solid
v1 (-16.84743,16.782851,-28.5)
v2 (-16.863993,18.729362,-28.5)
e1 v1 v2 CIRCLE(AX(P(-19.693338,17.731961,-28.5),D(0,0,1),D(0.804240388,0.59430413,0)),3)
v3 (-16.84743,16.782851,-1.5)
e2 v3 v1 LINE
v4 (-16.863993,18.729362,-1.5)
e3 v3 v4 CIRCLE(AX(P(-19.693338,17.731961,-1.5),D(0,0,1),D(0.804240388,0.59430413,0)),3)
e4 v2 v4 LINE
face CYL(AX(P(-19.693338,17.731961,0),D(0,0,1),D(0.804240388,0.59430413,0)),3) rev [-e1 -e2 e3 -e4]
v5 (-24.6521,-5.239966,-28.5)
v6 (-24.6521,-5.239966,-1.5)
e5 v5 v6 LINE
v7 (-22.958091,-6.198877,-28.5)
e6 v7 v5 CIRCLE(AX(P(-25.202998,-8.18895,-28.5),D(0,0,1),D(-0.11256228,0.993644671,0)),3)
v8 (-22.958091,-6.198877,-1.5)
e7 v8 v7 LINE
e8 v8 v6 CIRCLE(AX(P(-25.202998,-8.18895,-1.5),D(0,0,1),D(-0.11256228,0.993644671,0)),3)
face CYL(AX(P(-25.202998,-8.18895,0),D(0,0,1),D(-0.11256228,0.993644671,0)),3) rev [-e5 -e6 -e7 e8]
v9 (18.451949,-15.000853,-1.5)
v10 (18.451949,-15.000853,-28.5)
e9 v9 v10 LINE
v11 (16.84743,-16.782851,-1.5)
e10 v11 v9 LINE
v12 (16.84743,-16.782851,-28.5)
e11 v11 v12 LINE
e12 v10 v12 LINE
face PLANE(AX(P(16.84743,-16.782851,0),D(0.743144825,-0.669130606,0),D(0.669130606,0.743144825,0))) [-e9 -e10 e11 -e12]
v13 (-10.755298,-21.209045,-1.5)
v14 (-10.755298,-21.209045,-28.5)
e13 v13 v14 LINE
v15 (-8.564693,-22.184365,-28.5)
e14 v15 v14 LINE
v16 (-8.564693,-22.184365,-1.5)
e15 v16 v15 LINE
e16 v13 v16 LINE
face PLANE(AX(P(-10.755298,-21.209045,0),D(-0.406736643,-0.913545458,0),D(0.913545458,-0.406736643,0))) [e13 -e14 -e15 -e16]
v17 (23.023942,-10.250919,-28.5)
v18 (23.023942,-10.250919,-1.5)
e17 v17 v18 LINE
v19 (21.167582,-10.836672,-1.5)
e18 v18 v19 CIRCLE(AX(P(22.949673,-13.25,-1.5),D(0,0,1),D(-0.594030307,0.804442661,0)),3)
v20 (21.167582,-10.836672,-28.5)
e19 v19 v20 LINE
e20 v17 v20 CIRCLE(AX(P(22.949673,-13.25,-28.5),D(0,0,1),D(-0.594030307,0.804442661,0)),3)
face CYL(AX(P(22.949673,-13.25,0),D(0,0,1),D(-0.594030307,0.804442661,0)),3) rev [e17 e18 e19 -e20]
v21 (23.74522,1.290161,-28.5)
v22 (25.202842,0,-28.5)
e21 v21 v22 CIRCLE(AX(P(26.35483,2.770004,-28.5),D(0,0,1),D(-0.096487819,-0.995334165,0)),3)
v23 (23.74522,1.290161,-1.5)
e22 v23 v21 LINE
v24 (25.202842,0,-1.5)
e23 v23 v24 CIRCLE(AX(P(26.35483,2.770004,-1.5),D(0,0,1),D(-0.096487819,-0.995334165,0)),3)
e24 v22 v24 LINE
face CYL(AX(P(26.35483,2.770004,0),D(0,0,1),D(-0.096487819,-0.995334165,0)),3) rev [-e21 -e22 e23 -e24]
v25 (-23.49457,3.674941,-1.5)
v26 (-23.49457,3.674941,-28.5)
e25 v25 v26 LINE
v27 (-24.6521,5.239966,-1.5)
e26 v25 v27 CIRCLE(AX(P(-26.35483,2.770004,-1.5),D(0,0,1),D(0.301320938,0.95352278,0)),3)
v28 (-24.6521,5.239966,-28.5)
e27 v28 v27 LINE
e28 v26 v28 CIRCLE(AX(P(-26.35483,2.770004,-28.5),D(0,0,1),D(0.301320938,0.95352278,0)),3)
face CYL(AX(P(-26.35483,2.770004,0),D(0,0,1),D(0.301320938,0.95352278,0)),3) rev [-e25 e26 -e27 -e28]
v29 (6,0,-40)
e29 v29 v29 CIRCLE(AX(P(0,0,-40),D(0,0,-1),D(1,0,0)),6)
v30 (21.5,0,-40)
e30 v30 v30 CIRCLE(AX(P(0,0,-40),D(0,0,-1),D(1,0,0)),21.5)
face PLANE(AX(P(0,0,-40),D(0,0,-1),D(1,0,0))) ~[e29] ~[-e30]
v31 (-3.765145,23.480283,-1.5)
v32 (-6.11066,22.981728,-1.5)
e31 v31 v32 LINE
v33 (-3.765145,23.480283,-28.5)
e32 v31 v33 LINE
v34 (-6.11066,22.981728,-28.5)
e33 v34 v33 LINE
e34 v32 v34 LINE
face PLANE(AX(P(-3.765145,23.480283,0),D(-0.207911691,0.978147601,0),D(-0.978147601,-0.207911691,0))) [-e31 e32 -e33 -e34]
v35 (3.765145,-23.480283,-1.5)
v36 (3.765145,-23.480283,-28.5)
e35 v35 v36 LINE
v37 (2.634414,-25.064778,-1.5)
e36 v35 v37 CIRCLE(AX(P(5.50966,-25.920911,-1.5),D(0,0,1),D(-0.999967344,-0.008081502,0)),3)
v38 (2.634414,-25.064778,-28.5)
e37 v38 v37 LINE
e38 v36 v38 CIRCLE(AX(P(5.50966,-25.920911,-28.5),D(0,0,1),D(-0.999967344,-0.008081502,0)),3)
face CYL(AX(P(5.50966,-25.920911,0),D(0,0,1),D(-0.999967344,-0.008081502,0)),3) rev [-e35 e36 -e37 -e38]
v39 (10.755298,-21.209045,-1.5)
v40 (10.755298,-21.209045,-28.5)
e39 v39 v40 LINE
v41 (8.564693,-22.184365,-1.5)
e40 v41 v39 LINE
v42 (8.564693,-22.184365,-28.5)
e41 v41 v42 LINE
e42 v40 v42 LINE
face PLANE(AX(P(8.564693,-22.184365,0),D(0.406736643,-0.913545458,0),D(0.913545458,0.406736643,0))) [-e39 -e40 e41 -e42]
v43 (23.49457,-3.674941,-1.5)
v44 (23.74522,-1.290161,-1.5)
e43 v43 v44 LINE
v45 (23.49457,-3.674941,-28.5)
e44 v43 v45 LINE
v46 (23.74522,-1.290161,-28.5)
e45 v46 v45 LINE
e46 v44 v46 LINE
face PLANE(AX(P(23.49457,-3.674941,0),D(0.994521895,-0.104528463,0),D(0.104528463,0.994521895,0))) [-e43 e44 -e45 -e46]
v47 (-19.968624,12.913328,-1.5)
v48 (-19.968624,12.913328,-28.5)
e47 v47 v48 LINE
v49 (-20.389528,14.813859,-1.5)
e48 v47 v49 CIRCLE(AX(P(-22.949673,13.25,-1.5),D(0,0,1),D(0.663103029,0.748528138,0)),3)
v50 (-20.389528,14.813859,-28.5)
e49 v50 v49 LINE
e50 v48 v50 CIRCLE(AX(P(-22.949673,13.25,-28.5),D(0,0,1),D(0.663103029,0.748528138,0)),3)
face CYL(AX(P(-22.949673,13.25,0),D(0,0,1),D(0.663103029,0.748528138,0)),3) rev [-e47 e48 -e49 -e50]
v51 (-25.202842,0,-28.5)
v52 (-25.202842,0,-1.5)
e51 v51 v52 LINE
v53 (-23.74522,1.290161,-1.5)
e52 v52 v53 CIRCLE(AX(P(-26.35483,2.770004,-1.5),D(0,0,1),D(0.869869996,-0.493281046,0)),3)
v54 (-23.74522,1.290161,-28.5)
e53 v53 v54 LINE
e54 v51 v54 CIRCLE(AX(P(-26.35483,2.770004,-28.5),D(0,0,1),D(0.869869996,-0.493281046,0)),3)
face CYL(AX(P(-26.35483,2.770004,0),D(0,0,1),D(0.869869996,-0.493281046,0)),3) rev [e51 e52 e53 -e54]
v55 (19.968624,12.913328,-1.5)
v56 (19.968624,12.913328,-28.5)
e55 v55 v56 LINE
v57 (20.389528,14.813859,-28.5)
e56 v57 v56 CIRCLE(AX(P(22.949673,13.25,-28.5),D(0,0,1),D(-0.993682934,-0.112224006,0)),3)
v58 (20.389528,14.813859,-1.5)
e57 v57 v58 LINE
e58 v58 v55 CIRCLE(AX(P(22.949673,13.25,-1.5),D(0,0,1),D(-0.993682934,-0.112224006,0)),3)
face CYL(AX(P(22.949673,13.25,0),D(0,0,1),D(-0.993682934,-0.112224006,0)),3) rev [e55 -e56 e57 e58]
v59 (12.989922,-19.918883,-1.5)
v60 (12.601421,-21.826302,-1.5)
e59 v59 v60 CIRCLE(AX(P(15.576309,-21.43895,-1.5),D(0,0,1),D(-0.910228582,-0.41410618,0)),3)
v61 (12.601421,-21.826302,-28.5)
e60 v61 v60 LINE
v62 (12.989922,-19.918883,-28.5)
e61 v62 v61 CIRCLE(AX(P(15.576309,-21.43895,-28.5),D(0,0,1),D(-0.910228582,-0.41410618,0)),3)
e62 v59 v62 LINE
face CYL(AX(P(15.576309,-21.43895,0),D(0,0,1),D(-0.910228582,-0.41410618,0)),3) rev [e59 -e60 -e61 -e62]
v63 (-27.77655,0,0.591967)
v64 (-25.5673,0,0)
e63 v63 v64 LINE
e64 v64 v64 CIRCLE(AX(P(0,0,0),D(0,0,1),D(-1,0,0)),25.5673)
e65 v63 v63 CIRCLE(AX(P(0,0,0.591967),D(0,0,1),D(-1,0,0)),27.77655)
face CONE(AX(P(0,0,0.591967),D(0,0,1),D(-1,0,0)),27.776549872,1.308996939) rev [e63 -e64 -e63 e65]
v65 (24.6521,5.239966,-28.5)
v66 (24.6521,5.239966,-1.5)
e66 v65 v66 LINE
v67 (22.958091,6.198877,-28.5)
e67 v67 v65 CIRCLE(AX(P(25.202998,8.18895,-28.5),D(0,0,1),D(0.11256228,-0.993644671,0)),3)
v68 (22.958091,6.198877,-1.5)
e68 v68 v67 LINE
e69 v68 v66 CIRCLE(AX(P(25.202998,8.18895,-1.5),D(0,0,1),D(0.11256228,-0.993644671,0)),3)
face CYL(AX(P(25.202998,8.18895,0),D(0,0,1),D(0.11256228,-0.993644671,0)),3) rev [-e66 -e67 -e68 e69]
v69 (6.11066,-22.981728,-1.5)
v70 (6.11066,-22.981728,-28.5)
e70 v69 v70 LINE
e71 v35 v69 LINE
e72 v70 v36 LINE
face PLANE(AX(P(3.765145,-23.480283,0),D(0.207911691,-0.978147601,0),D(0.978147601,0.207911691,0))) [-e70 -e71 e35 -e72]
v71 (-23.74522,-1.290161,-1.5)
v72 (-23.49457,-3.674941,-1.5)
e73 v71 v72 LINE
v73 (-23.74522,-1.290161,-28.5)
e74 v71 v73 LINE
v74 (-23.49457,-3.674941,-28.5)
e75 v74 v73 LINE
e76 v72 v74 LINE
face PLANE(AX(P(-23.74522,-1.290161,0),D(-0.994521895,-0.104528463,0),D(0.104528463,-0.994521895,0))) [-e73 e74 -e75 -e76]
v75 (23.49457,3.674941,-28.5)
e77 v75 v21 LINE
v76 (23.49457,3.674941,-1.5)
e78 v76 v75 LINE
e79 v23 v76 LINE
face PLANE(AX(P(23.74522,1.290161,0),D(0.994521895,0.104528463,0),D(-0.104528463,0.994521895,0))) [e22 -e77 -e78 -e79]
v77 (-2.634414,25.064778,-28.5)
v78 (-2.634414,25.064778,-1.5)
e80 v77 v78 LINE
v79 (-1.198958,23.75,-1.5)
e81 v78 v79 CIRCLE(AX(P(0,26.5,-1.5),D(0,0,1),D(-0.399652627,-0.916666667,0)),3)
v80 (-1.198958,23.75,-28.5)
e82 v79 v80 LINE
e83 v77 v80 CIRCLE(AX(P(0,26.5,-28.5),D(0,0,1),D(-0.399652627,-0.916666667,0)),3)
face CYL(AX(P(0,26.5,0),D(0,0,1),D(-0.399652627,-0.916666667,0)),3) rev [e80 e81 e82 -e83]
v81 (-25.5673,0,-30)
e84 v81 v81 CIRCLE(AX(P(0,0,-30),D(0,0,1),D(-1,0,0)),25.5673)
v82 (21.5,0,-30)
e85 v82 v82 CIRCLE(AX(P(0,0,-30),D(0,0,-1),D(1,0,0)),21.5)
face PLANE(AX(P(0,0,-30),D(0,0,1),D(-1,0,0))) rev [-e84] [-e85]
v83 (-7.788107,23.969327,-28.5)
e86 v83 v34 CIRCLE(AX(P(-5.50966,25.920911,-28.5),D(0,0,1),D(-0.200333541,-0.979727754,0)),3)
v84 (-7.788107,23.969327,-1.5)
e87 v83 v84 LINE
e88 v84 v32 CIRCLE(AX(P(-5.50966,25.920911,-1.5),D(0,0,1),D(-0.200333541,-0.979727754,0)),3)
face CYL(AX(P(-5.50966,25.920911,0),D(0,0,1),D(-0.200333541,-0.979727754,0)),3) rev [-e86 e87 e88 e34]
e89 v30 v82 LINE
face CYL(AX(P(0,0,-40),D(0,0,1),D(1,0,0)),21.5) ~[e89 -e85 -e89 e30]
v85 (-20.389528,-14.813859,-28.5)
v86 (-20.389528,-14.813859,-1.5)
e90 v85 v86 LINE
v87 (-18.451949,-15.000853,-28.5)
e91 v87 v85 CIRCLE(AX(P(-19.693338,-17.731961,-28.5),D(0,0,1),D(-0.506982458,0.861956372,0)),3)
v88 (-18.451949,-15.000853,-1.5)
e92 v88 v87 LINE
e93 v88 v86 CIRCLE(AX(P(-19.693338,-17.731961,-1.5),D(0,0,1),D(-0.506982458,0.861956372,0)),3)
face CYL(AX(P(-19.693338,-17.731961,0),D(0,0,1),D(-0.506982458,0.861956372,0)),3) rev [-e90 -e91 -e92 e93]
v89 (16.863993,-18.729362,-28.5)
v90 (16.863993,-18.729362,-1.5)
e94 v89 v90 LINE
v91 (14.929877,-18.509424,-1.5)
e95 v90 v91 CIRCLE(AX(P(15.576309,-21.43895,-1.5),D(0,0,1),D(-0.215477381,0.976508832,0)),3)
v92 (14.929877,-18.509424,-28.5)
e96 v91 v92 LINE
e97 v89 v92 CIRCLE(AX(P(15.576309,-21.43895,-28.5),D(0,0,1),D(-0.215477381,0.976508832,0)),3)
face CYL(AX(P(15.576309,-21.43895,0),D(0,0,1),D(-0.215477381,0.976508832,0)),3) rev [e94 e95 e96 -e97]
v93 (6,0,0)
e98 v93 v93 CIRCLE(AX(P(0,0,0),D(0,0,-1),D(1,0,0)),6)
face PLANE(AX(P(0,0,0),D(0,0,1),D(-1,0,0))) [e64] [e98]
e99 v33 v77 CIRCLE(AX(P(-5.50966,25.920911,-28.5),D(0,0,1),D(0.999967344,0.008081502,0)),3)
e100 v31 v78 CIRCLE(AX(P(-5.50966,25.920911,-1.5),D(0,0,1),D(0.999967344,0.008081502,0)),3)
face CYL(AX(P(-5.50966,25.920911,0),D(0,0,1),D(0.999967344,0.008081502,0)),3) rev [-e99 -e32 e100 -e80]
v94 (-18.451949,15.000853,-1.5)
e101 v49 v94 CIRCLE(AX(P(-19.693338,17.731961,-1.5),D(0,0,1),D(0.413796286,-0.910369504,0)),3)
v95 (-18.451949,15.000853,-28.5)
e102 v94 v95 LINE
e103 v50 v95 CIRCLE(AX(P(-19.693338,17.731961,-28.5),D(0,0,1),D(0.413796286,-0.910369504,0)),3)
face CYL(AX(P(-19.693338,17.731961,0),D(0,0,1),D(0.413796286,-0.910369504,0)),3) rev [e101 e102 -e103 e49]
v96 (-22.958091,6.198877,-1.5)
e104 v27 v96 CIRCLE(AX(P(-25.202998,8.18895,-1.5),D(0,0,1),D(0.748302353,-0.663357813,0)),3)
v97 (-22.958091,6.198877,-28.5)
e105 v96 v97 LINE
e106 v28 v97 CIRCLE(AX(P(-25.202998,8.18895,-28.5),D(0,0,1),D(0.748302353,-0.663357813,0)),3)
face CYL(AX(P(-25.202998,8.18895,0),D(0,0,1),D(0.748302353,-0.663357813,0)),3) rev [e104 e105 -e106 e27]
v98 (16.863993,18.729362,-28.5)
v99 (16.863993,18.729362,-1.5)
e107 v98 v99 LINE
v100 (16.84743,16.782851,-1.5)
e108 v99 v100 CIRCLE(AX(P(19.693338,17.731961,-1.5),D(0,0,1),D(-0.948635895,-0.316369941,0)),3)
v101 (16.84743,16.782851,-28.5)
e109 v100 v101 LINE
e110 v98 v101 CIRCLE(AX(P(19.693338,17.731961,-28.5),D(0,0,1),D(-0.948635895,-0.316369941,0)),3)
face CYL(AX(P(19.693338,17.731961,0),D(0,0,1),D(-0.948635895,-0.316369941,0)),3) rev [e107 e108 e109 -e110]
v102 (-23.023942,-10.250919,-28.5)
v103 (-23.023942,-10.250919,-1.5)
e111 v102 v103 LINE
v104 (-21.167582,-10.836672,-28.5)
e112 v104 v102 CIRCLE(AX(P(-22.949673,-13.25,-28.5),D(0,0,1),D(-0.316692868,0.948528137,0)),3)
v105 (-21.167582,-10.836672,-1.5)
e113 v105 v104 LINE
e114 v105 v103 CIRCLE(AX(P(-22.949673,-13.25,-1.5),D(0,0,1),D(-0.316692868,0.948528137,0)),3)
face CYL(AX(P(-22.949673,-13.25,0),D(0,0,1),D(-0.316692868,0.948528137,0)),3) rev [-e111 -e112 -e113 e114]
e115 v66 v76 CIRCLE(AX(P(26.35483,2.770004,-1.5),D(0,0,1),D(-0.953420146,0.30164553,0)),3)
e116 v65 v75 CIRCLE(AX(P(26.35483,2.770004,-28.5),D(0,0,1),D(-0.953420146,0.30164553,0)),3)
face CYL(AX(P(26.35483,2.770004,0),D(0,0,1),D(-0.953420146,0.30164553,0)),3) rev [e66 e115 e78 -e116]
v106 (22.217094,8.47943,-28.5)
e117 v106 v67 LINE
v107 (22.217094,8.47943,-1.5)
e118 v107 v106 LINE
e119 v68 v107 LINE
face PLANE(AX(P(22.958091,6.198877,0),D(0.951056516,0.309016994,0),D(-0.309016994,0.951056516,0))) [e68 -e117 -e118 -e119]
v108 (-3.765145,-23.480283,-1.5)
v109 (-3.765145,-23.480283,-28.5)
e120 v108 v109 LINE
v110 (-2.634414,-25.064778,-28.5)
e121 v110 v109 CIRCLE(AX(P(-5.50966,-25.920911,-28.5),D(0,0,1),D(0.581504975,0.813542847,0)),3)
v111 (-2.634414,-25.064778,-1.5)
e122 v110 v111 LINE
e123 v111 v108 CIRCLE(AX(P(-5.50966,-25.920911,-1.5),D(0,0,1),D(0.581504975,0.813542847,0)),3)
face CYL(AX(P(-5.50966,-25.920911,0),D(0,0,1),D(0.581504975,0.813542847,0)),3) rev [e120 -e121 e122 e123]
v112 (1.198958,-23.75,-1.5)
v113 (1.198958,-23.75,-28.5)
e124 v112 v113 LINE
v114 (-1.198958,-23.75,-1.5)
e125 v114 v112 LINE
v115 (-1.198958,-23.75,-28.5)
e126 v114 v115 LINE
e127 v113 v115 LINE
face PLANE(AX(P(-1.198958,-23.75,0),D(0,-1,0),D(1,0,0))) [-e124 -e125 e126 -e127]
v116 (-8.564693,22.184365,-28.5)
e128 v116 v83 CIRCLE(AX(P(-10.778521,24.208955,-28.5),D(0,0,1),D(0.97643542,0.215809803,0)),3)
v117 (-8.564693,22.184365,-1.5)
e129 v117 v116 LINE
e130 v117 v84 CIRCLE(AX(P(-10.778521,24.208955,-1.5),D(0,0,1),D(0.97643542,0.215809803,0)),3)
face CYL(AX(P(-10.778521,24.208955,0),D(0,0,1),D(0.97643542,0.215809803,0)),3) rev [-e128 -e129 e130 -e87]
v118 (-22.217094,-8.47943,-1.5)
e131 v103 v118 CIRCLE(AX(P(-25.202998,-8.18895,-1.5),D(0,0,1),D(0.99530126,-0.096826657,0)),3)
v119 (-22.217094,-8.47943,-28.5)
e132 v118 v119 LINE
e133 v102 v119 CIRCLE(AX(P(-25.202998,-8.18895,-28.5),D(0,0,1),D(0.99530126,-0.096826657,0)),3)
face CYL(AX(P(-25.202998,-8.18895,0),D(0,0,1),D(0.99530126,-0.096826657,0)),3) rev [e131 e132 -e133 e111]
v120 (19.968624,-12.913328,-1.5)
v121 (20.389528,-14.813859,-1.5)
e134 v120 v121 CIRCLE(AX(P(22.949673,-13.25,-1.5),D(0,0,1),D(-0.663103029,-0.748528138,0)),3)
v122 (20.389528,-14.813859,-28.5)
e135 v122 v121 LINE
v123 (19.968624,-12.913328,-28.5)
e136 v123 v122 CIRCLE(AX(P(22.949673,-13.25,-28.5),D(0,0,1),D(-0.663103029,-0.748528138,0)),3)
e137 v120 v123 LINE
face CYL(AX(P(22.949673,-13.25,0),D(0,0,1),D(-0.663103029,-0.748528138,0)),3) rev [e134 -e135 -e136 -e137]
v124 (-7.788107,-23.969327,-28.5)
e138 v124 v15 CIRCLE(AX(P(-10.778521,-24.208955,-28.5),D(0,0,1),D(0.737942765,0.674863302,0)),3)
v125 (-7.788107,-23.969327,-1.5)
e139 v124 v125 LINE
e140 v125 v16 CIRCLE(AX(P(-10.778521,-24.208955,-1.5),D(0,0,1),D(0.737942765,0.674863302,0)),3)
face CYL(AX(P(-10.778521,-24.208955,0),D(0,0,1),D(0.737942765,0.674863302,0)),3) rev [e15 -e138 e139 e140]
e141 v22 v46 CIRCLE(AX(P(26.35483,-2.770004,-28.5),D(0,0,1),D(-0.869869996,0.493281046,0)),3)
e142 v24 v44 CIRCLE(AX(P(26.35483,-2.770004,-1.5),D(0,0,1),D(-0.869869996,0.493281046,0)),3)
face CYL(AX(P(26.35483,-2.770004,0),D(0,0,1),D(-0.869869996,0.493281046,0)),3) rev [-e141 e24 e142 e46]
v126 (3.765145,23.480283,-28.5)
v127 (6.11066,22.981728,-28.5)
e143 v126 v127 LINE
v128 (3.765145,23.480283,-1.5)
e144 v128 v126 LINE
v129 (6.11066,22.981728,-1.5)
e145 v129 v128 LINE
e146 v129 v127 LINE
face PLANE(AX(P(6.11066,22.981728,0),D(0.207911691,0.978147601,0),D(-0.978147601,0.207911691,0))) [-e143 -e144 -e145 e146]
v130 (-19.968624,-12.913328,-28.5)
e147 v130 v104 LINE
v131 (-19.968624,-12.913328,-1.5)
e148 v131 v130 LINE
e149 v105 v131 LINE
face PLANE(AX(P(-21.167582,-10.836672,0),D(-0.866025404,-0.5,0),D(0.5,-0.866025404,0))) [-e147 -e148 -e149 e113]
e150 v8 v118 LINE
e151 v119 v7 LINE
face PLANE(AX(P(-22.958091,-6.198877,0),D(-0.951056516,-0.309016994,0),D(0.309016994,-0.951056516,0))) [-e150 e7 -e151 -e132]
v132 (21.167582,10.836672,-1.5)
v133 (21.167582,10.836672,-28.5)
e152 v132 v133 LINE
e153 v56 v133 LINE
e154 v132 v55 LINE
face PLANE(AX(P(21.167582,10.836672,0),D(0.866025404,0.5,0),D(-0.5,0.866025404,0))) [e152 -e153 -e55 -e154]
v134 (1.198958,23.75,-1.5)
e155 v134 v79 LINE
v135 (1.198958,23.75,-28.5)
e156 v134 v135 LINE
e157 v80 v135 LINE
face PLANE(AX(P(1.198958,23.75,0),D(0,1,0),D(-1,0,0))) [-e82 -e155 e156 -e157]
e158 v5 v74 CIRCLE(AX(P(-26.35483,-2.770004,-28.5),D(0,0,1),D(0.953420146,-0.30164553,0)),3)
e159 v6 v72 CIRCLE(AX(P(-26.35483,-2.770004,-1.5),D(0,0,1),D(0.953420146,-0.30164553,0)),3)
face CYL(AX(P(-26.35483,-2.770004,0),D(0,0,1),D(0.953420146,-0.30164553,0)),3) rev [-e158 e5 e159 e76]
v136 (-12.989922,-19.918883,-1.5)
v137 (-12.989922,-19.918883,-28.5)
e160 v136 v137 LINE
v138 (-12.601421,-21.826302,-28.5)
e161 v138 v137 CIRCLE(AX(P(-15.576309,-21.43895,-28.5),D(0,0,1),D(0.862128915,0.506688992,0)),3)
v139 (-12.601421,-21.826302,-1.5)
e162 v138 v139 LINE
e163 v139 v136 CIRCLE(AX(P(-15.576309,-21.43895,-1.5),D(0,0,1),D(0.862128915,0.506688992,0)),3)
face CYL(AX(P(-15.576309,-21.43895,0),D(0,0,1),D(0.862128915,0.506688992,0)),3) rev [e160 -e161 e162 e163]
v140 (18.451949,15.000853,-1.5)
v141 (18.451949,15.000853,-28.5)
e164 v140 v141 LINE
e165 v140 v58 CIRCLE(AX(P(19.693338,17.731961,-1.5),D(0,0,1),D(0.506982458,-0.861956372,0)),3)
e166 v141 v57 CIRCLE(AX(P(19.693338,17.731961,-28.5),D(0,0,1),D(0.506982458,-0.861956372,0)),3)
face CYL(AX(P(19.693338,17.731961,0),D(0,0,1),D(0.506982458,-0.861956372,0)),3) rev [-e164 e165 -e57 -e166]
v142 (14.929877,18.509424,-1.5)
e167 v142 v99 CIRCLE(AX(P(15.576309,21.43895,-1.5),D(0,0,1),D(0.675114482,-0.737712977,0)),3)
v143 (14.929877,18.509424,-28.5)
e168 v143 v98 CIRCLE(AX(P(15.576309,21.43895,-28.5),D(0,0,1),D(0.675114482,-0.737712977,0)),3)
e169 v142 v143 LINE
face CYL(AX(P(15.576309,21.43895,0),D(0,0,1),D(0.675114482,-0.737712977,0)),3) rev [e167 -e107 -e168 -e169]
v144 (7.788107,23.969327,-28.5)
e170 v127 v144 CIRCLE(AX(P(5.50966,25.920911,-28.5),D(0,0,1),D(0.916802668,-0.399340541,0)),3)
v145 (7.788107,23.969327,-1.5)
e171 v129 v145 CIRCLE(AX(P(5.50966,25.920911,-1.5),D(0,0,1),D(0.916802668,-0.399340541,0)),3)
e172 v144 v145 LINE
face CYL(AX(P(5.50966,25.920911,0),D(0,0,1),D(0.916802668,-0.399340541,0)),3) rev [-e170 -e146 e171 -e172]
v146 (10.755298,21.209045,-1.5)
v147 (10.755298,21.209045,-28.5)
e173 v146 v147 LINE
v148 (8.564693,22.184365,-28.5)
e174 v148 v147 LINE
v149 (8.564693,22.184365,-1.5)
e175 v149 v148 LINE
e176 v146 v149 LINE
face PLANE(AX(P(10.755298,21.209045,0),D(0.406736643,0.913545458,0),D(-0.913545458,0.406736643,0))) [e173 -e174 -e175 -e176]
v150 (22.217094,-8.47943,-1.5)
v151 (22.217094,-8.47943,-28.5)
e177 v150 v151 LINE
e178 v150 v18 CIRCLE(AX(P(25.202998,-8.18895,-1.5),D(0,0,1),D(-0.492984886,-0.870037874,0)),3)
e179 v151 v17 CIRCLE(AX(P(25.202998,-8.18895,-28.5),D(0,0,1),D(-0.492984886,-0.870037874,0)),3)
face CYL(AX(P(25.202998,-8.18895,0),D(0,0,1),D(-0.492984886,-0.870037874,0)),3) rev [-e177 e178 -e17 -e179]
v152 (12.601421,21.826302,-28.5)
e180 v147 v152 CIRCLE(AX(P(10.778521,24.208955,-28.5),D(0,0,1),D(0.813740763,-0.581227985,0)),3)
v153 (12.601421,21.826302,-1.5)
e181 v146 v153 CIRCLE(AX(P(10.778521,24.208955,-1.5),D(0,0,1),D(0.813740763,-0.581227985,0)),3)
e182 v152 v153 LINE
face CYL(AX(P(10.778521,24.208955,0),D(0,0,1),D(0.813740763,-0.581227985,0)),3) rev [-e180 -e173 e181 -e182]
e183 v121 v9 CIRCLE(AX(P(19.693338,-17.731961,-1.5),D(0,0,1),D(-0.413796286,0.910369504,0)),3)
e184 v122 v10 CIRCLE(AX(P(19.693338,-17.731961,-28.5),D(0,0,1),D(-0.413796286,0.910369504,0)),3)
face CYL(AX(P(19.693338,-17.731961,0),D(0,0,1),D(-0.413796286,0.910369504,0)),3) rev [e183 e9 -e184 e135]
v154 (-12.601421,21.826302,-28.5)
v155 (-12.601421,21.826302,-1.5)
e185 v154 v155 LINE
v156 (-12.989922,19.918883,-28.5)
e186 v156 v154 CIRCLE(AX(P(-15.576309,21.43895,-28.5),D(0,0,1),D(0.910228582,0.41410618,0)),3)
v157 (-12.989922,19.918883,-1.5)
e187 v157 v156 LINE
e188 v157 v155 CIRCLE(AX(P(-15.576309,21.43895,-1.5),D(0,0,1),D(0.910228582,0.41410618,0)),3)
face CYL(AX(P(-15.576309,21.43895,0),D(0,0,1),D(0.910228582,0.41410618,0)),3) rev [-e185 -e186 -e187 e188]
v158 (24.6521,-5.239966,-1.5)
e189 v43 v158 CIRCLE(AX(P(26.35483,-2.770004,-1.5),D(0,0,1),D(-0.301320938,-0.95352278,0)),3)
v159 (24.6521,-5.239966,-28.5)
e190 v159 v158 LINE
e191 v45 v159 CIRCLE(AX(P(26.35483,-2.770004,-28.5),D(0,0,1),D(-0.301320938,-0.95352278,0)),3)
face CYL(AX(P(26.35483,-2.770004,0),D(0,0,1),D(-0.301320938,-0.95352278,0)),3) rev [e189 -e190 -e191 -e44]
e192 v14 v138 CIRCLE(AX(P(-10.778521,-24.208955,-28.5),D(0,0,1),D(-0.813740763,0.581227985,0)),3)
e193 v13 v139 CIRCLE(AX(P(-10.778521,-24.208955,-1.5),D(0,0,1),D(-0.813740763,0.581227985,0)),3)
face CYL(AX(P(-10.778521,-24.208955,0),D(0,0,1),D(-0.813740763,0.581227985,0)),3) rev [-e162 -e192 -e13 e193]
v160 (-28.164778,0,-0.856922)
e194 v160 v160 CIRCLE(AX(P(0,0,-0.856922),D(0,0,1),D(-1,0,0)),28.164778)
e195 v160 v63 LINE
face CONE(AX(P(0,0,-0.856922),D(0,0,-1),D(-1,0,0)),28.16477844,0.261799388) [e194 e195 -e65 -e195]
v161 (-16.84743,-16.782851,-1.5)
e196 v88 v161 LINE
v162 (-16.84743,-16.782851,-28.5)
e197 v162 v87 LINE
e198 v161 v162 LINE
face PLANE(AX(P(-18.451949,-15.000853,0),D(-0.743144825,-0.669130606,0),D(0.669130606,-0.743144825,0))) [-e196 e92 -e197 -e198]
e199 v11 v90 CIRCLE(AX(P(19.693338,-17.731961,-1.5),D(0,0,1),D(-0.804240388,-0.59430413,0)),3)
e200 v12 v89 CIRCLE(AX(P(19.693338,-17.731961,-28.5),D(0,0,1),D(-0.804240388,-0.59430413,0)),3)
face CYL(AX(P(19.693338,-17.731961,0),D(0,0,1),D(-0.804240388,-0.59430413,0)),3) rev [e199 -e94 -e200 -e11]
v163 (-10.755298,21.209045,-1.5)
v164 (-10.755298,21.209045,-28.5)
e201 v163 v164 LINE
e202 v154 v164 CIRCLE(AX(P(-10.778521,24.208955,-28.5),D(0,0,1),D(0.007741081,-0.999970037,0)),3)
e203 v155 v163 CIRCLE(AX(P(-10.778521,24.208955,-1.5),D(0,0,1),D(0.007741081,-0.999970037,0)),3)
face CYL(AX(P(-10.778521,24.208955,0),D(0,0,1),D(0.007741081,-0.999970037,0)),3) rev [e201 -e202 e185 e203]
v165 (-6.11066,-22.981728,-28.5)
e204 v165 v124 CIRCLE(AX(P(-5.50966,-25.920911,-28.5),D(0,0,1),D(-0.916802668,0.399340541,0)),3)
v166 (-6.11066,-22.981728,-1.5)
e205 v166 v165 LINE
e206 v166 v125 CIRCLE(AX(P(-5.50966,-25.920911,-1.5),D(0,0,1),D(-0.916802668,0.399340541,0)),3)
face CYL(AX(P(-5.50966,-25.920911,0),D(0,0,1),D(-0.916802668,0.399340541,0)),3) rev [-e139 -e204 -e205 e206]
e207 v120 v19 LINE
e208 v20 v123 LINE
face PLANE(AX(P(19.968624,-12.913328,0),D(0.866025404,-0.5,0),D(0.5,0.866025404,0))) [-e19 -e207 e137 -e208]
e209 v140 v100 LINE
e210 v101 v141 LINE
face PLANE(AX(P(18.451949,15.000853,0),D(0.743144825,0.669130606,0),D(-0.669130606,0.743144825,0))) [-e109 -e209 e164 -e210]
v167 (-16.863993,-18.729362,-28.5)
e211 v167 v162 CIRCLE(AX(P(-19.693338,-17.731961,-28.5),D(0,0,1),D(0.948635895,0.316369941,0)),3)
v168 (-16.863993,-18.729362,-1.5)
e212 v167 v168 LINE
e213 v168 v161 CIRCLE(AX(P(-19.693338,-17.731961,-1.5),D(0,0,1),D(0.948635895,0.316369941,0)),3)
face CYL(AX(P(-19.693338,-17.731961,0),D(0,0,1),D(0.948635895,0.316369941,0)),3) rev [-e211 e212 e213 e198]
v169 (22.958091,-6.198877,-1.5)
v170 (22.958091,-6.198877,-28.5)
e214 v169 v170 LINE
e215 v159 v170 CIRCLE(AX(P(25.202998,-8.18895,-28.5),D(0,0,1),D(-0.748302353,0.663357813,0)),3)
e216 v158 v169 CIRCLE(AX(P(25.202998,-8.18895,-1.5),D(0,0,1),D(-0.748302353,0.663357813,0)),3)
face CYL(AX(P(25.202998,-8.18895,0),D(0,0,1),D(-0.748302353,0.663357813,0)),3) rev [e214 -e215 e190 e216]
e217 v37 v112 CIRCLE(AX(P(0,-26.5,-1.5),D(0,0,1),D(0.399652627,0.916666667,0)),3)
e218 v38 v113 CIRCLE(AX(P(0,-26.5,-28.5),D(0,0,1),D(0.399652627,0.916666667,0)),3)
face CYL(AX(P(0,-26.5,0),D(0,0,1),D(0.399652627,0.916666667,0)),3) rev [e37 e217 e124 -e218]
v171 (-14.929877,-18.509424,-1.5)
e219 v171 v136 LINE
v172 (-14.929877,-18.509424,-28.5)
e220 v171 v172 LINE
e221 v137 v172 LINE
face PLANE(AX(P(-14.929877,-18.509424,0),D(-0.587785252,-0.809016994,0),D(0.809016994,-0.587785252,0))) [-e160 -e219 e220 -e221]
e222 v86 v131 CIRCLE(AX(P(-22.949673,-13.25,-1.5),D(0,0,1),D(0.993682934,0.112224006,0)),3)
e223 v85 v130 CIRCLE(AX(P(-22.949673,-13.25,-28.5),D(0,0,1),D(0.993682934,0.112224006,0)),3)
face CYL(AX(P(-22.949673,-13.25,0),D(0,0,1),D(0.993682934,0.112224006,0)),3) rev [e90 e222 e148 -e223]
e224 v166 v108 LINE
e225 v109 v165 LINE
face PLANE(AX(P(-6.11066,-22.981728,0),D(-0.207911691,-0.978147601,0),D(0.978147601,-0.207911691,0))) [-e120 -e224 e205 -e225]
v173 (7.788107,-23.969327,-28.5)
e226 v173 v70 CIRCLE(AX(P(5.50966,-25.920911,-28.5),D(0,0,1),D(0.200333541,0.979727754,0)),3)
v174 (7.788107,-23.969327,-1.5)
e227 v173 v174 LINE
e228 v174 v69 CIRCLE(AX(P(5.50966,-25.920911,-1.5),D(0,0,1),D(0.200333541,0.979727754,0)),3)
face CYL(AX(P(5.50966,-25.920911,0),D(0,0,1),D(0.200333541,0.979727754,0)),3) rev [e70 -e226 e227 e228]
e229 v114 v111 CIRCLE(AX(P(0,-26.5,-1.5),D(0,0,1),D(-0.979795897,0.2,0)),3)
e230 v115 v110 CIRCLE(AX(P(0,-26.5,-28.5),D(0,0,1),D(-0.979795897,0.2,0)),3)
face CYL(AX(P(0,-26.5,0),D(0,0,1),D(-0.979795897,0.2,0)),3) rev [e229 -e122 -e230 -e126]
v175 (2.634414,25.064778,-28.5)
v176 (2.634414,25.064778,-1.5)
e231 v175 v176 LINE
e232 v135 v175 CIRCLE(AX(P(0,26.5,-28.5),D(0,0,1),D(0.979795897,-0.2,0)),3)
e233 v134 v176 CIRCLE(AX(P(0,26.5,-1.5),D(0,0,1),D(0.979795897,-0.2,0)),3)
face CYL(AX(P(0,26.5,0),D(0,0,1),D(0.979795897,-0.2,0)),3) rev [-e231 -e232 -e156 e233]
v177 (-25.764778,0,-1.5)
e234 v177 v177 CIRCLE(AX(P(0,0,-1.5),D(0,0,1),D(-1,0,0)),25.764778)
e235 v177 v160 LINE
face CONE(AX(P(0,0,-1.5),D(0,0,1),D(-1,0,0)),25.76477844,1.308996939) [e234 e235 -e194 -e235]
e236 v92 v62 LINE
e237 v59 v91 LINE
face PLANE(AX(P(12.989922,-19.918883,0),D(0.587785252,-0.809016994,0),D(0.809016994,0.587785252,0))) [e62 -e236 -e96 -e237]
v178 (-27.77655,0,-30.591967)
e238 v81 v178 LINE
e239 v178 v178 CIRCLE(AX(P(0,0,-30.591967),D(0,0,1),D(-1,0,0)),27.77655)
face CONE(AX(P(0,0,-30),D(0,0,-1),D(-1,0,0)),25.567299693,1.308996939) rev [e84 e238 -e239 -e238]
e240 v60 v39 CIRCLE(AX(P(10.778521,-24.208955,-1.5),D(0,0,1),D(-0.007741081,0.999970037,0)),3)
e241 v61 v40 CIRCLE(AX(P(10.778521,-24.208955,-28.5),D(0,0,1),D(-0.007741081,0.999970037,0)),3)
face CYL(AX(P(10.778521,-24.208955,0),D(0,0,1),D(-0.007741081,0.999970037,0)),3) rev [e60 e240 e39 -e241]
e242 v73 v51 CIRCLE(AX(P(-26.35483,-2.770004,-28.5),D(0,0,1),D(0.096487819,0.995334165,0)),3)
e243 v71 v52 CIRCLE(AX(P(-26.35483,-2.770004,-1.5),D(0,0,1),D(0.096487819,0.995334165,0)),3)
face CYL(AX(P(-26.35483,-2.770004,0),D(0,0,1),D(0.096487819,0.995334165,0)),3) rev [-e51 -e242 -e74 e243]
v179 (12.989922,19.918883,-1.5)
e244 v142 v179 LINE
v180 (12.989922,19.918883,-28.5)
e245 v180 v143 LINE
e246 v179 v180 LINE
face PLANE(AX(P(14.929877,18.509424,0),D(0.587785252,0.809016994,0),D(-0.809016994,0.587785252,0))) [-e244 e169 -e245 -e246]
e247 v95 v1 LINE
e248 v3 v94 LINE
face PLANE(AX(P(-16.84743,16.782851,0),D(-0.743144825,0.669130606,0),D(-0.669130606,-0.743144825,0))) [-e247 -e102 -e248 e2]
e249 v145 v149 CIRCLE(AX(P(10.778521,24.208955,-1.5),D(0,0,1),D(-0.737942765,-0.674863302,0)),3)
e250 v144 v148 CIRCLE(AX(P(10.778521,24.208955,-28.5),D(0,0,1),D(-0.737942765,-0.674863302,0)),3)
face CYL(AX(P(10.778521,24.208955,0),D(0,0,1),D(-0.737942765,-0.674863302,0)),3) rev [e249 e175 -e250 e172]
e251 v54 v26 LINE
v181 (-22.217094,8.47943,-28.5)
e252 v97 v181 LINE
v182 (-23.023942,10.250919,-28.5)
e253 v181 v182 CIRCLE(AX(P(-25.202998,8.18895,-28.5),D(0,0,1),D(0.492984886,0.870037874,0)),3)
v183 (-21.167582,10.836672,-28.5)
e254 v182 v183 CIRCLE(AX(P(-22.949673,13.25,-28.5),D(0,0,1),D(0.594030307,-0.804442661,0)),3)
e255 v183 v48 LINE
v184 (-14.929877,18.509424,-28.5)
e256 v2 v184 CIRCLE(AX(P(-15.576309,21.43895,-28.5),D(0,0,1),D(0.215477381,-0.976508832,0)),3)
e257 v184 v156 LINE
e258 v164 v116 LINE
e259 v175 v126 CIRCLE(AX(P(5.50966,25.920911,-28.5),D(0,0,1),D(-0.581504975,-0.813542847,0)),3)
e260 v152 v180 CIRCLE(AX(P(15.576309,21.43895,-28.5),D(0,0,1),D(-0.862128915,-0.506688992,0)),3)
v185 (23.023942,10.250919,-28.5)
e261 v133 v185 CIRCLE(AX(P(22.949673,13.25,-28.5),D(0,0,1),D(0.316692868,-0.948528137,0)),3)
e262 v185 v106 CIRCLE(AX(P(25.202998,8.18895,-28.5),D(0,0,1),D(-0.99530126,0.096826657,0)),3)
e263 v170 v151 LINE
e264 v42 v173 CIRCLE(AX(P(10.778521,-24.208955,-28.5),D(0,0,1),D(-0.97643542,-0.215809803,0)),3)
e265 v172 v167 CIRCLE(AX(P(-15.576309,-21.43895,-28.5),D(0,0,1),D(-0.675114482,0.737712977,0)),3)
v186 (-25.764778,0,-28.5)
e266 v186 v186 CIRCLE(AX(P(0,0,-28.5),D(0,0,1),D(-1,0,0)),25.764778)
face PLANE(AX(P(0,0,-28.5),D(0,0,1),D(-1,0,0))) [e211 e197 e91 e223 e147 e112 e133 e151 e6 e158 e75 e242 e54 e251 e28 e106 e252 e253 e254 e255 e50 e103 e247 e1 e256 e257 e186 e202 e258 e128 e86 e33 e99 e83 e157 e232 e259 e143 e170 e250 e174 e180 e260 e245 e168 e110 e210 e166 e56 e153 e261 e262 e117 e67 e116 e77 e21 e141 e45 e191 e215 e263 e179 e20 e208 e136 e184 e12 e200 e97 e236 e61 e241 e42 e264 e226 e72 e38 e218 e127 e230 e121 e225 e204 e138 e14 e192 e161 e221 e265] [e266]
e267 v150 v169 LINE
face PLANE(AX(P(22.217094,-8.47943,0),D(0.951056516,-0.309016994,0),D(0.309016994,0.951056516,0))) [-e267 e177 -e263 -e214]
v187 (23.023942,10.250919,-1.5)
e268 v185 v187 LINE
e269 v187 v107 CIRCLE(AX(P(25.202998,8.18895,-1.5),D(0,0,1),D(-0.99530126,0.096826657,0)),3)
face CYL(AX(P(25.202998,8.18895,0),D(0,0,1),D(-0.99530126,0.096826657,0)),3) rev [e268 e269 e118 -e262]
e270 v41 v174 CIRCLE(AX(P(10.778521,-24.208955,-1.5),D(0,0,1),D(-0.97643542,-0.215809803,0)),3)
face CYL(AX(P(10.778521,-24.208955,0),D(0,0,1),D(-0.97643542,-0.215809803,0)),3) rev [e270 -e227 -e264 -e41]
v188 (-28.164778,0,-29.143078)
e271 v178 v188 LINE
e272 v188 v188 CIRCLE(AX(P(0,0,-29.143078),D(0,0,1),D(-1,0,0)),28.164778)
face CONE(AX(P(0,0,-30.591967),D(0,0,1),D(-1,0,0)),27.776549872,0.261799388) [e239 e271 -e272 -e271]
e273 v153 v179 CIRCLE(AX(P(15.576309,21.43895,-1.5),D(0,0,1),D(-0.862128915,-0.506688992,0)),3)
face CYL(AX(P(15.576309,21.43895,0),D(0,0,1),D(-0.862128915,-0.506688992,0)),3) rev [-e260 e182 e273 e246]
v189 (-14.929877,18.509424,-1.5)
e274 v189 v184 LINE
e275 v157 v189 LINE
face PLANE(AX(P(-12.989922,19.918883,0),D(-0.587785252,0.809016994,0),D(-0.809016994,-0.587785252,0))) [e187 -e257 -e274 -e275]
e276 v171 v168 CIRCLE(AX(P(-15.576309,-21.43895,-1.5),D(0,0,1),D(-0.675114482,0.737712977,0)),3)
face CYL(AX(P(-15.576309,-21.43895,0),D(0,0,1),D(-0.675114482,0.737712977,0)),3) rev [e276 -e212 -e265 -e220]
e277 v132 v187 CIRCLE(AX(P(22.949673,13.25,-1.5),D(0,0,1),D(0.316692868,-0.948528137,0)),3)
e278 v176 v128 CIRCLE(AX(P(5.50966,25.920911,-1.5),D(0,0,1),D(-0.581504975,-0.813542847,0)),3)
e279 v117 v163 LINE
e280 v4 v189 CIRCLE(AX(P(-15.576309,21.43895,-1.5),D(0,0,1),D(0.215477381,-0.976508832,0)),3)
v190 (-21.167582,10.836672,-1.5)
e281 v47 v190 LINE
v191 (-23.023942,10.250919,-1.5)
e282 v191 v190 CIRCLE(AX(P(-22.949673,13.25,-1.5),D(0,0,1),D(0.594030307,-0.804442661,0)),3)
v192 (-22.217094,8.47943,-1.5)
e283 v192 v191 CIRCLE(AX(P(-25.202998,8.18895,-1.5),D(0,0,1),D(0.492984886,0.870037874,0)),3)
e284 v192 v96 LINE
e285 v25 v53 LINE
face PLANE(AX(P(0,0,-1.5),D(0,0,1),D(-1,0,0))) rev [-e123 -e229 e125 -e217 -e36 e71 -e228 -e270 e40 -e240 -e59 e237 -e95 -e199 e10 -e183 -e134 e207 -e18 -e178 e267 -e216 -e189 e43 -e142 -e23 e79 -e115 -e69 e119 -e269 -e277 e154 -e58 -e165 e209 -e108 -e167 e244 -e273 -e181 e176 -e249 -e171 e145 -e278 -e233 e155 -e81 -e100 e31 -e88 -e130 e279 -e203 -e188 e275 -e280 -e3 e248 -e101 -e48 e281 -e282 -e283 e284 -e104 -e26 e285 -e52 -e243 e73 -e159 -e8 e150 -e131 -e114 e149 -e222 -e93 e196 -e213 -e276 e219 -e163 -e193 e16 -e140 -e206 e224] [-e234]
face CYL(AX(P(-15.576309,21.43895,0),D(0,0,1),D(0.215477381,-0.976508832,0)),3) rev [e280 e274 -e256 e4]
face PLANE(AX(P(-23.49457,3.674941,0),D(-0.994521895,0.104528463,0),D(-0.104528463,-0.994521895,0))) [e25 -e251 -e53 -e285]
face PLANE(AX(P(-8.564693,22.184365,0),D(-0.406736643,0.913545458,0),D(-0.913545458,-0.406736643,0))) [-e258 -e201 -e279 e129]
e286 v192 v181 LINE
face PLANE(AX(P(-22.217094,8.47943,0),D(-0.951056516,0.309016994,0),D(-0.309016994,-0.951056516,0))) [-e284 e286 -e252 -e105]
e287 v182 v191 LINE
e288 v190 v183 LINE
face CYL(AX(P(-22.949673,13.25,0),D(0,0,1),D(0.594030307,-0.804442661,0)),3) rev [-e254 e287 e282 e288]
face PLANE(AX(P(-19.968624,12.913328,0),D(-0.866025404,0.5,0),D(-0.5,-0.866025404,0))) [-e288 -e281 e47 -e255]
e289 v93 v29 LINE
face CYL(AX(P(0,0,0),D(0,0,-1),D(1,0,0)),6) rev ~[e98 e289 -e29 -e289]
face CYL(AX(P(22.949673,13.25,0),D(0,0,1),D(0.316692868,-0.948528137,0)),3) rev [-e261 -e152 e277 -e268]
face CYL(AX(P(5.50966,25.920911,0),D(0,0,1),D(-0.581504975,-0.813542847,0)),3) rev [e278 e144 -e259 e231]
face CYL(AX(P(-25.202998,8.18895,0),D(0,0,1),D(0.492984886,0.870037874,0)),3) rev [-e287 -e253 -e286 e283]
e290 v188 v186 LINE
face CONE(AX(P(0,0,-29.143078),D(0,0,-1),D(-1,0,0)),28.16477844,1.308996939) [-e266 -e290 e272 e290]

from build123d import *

# Parameters (mm, degrees)
CUT_EXTRUDE1_DEPTH = 35
CIRPATTERN1_COUNT  = 30
SKETCH4_W          = 1.5
SKETCH4_H          = 1.584495562


with BuildPart() as part:
    # Sketch1 → Revolve1 (revolve)
    with BuildSketch(Plane(origin=(0, 0, 0), x_dir=(0, 0, -1), z_dir=(1, 0, 0)), mode=Mode.PRIVATE) as revolve1_sk:
        Polygon((0, 6), (40, 6), (40, 21.5), (30, 21.5), (30, 27.25), (0, 27.25), align=None)
    revolve(revolve1_sk.sketch.rotate(Axis((0, 0, 0), (0, 0, -1)), 90), axis=Axis((0, 0, 0), (0, 0, -1)))

    # Sketch2 → Cut-Extrude1 (cut)
    with BuildSketch(Plane.XY):
        with BuildLine():
            Line((3.75, 26.5), (3.674234614, 26.5))
            ThreePointArc((3.674234614, 26.5), (3.199892965, 26.330947502), (2.939387691, 25.9))
            ThreePointArc((2.939387691, 25.9), (2.331759211, 24.612435701), (1.198957881, 23.75))
            Line((1.198957881, 23.75), (-1.198957881, 23.75))
            ThreePointArc((-1.198957881, 23.75), (-2.331759211, 24.612435701), (-2.939387691, 25.9))
            ThreePointArc((-2.939387691, 25.9), (-3.199892965, 26.330947502), (-3.674234614, 26.5))
            Line((-3.674234614, 26.5), (-3.75, 26.5))
            Line((-3.75, 26.5), (-3.75, 28.5))
            Line((-3.75, 28.5), (3.75, 28.5))
            Line((3.75, 28.5), (3.75, 26.5))
        make_face()
    cut_extrude1 = extrude(amount=-CUT_EXTRUDE1_DEPTH, mode=Mode.SUBTRACT)

    # CirPattern1: Cut-Extrude1 ×30 about axis
    cirpattern1_axis = Axis((0, 0, 0), (0, 0, 1))
    for i in range(1, CIRPATTERN1_COUNT):
        add(cut_extrude1.rotate(cirpattern1_axis, i * 360 / CIRPATTERN1_COUNT), mode=Mode.SUBTRACT)

    # Sketch4 → Revolve3 (revolve)
    with BuildSketch(Plane(origin=(0, 0, 0), x_dir=(0, 0, -1), z_dir=(1, 0, 0)), mode=Mode.PRIVATE) as revolve3_sk:
        Polygon((28.5, 25.76477844), (28.5, 25.06477844), (30, 25.06477844), (30, 25.567299693), (29.948888739, 25.376549872), align=None)
        Polygon((30, 25.76477844), (28.5, 25.76477844), (29.948888739, 25.376549872), (30, 25.567299693), align=None)
        Polygon((29.143078062, 28.16477844), (28.5, 25.76477844), (30, 25.76477844), (30, 25.567299693), (30.591966801, 27.776549872), align=None)
        with Locations((29.25, 24.272530659)):
            Rectangle(SKETCH4_W, SKETCH4_H)
        Polygon((0, 25.567299693), (0, 25.76477844), (1.5, 25.76477844), (0.856921938, 28.16477844), (-0.591966801, 27.776549872), align=None)
        Polygon((1.5, 25.06477844), (1.5, 25.76477844), (0.051111261, 25.376549872), (0, 25.567299693), (0, 25.06477844), align=None)
        Polygon((1.5, 25.76477844), (0, 25.76477844), (0, 25.567299693), (0.051111261, 25.376549872), align=None)
        with Locations((0.75, 24.272530659)):
            Rectangle(SKETCH4_W, SKETCH4_H)
    revolve(revolve3_sk.sketch.rotate(Axis((0, 0, 0), (0, 0, 1)), 90), axis=Axis((0, 0, 0), (0, 0, 1)))


solid = part.part
